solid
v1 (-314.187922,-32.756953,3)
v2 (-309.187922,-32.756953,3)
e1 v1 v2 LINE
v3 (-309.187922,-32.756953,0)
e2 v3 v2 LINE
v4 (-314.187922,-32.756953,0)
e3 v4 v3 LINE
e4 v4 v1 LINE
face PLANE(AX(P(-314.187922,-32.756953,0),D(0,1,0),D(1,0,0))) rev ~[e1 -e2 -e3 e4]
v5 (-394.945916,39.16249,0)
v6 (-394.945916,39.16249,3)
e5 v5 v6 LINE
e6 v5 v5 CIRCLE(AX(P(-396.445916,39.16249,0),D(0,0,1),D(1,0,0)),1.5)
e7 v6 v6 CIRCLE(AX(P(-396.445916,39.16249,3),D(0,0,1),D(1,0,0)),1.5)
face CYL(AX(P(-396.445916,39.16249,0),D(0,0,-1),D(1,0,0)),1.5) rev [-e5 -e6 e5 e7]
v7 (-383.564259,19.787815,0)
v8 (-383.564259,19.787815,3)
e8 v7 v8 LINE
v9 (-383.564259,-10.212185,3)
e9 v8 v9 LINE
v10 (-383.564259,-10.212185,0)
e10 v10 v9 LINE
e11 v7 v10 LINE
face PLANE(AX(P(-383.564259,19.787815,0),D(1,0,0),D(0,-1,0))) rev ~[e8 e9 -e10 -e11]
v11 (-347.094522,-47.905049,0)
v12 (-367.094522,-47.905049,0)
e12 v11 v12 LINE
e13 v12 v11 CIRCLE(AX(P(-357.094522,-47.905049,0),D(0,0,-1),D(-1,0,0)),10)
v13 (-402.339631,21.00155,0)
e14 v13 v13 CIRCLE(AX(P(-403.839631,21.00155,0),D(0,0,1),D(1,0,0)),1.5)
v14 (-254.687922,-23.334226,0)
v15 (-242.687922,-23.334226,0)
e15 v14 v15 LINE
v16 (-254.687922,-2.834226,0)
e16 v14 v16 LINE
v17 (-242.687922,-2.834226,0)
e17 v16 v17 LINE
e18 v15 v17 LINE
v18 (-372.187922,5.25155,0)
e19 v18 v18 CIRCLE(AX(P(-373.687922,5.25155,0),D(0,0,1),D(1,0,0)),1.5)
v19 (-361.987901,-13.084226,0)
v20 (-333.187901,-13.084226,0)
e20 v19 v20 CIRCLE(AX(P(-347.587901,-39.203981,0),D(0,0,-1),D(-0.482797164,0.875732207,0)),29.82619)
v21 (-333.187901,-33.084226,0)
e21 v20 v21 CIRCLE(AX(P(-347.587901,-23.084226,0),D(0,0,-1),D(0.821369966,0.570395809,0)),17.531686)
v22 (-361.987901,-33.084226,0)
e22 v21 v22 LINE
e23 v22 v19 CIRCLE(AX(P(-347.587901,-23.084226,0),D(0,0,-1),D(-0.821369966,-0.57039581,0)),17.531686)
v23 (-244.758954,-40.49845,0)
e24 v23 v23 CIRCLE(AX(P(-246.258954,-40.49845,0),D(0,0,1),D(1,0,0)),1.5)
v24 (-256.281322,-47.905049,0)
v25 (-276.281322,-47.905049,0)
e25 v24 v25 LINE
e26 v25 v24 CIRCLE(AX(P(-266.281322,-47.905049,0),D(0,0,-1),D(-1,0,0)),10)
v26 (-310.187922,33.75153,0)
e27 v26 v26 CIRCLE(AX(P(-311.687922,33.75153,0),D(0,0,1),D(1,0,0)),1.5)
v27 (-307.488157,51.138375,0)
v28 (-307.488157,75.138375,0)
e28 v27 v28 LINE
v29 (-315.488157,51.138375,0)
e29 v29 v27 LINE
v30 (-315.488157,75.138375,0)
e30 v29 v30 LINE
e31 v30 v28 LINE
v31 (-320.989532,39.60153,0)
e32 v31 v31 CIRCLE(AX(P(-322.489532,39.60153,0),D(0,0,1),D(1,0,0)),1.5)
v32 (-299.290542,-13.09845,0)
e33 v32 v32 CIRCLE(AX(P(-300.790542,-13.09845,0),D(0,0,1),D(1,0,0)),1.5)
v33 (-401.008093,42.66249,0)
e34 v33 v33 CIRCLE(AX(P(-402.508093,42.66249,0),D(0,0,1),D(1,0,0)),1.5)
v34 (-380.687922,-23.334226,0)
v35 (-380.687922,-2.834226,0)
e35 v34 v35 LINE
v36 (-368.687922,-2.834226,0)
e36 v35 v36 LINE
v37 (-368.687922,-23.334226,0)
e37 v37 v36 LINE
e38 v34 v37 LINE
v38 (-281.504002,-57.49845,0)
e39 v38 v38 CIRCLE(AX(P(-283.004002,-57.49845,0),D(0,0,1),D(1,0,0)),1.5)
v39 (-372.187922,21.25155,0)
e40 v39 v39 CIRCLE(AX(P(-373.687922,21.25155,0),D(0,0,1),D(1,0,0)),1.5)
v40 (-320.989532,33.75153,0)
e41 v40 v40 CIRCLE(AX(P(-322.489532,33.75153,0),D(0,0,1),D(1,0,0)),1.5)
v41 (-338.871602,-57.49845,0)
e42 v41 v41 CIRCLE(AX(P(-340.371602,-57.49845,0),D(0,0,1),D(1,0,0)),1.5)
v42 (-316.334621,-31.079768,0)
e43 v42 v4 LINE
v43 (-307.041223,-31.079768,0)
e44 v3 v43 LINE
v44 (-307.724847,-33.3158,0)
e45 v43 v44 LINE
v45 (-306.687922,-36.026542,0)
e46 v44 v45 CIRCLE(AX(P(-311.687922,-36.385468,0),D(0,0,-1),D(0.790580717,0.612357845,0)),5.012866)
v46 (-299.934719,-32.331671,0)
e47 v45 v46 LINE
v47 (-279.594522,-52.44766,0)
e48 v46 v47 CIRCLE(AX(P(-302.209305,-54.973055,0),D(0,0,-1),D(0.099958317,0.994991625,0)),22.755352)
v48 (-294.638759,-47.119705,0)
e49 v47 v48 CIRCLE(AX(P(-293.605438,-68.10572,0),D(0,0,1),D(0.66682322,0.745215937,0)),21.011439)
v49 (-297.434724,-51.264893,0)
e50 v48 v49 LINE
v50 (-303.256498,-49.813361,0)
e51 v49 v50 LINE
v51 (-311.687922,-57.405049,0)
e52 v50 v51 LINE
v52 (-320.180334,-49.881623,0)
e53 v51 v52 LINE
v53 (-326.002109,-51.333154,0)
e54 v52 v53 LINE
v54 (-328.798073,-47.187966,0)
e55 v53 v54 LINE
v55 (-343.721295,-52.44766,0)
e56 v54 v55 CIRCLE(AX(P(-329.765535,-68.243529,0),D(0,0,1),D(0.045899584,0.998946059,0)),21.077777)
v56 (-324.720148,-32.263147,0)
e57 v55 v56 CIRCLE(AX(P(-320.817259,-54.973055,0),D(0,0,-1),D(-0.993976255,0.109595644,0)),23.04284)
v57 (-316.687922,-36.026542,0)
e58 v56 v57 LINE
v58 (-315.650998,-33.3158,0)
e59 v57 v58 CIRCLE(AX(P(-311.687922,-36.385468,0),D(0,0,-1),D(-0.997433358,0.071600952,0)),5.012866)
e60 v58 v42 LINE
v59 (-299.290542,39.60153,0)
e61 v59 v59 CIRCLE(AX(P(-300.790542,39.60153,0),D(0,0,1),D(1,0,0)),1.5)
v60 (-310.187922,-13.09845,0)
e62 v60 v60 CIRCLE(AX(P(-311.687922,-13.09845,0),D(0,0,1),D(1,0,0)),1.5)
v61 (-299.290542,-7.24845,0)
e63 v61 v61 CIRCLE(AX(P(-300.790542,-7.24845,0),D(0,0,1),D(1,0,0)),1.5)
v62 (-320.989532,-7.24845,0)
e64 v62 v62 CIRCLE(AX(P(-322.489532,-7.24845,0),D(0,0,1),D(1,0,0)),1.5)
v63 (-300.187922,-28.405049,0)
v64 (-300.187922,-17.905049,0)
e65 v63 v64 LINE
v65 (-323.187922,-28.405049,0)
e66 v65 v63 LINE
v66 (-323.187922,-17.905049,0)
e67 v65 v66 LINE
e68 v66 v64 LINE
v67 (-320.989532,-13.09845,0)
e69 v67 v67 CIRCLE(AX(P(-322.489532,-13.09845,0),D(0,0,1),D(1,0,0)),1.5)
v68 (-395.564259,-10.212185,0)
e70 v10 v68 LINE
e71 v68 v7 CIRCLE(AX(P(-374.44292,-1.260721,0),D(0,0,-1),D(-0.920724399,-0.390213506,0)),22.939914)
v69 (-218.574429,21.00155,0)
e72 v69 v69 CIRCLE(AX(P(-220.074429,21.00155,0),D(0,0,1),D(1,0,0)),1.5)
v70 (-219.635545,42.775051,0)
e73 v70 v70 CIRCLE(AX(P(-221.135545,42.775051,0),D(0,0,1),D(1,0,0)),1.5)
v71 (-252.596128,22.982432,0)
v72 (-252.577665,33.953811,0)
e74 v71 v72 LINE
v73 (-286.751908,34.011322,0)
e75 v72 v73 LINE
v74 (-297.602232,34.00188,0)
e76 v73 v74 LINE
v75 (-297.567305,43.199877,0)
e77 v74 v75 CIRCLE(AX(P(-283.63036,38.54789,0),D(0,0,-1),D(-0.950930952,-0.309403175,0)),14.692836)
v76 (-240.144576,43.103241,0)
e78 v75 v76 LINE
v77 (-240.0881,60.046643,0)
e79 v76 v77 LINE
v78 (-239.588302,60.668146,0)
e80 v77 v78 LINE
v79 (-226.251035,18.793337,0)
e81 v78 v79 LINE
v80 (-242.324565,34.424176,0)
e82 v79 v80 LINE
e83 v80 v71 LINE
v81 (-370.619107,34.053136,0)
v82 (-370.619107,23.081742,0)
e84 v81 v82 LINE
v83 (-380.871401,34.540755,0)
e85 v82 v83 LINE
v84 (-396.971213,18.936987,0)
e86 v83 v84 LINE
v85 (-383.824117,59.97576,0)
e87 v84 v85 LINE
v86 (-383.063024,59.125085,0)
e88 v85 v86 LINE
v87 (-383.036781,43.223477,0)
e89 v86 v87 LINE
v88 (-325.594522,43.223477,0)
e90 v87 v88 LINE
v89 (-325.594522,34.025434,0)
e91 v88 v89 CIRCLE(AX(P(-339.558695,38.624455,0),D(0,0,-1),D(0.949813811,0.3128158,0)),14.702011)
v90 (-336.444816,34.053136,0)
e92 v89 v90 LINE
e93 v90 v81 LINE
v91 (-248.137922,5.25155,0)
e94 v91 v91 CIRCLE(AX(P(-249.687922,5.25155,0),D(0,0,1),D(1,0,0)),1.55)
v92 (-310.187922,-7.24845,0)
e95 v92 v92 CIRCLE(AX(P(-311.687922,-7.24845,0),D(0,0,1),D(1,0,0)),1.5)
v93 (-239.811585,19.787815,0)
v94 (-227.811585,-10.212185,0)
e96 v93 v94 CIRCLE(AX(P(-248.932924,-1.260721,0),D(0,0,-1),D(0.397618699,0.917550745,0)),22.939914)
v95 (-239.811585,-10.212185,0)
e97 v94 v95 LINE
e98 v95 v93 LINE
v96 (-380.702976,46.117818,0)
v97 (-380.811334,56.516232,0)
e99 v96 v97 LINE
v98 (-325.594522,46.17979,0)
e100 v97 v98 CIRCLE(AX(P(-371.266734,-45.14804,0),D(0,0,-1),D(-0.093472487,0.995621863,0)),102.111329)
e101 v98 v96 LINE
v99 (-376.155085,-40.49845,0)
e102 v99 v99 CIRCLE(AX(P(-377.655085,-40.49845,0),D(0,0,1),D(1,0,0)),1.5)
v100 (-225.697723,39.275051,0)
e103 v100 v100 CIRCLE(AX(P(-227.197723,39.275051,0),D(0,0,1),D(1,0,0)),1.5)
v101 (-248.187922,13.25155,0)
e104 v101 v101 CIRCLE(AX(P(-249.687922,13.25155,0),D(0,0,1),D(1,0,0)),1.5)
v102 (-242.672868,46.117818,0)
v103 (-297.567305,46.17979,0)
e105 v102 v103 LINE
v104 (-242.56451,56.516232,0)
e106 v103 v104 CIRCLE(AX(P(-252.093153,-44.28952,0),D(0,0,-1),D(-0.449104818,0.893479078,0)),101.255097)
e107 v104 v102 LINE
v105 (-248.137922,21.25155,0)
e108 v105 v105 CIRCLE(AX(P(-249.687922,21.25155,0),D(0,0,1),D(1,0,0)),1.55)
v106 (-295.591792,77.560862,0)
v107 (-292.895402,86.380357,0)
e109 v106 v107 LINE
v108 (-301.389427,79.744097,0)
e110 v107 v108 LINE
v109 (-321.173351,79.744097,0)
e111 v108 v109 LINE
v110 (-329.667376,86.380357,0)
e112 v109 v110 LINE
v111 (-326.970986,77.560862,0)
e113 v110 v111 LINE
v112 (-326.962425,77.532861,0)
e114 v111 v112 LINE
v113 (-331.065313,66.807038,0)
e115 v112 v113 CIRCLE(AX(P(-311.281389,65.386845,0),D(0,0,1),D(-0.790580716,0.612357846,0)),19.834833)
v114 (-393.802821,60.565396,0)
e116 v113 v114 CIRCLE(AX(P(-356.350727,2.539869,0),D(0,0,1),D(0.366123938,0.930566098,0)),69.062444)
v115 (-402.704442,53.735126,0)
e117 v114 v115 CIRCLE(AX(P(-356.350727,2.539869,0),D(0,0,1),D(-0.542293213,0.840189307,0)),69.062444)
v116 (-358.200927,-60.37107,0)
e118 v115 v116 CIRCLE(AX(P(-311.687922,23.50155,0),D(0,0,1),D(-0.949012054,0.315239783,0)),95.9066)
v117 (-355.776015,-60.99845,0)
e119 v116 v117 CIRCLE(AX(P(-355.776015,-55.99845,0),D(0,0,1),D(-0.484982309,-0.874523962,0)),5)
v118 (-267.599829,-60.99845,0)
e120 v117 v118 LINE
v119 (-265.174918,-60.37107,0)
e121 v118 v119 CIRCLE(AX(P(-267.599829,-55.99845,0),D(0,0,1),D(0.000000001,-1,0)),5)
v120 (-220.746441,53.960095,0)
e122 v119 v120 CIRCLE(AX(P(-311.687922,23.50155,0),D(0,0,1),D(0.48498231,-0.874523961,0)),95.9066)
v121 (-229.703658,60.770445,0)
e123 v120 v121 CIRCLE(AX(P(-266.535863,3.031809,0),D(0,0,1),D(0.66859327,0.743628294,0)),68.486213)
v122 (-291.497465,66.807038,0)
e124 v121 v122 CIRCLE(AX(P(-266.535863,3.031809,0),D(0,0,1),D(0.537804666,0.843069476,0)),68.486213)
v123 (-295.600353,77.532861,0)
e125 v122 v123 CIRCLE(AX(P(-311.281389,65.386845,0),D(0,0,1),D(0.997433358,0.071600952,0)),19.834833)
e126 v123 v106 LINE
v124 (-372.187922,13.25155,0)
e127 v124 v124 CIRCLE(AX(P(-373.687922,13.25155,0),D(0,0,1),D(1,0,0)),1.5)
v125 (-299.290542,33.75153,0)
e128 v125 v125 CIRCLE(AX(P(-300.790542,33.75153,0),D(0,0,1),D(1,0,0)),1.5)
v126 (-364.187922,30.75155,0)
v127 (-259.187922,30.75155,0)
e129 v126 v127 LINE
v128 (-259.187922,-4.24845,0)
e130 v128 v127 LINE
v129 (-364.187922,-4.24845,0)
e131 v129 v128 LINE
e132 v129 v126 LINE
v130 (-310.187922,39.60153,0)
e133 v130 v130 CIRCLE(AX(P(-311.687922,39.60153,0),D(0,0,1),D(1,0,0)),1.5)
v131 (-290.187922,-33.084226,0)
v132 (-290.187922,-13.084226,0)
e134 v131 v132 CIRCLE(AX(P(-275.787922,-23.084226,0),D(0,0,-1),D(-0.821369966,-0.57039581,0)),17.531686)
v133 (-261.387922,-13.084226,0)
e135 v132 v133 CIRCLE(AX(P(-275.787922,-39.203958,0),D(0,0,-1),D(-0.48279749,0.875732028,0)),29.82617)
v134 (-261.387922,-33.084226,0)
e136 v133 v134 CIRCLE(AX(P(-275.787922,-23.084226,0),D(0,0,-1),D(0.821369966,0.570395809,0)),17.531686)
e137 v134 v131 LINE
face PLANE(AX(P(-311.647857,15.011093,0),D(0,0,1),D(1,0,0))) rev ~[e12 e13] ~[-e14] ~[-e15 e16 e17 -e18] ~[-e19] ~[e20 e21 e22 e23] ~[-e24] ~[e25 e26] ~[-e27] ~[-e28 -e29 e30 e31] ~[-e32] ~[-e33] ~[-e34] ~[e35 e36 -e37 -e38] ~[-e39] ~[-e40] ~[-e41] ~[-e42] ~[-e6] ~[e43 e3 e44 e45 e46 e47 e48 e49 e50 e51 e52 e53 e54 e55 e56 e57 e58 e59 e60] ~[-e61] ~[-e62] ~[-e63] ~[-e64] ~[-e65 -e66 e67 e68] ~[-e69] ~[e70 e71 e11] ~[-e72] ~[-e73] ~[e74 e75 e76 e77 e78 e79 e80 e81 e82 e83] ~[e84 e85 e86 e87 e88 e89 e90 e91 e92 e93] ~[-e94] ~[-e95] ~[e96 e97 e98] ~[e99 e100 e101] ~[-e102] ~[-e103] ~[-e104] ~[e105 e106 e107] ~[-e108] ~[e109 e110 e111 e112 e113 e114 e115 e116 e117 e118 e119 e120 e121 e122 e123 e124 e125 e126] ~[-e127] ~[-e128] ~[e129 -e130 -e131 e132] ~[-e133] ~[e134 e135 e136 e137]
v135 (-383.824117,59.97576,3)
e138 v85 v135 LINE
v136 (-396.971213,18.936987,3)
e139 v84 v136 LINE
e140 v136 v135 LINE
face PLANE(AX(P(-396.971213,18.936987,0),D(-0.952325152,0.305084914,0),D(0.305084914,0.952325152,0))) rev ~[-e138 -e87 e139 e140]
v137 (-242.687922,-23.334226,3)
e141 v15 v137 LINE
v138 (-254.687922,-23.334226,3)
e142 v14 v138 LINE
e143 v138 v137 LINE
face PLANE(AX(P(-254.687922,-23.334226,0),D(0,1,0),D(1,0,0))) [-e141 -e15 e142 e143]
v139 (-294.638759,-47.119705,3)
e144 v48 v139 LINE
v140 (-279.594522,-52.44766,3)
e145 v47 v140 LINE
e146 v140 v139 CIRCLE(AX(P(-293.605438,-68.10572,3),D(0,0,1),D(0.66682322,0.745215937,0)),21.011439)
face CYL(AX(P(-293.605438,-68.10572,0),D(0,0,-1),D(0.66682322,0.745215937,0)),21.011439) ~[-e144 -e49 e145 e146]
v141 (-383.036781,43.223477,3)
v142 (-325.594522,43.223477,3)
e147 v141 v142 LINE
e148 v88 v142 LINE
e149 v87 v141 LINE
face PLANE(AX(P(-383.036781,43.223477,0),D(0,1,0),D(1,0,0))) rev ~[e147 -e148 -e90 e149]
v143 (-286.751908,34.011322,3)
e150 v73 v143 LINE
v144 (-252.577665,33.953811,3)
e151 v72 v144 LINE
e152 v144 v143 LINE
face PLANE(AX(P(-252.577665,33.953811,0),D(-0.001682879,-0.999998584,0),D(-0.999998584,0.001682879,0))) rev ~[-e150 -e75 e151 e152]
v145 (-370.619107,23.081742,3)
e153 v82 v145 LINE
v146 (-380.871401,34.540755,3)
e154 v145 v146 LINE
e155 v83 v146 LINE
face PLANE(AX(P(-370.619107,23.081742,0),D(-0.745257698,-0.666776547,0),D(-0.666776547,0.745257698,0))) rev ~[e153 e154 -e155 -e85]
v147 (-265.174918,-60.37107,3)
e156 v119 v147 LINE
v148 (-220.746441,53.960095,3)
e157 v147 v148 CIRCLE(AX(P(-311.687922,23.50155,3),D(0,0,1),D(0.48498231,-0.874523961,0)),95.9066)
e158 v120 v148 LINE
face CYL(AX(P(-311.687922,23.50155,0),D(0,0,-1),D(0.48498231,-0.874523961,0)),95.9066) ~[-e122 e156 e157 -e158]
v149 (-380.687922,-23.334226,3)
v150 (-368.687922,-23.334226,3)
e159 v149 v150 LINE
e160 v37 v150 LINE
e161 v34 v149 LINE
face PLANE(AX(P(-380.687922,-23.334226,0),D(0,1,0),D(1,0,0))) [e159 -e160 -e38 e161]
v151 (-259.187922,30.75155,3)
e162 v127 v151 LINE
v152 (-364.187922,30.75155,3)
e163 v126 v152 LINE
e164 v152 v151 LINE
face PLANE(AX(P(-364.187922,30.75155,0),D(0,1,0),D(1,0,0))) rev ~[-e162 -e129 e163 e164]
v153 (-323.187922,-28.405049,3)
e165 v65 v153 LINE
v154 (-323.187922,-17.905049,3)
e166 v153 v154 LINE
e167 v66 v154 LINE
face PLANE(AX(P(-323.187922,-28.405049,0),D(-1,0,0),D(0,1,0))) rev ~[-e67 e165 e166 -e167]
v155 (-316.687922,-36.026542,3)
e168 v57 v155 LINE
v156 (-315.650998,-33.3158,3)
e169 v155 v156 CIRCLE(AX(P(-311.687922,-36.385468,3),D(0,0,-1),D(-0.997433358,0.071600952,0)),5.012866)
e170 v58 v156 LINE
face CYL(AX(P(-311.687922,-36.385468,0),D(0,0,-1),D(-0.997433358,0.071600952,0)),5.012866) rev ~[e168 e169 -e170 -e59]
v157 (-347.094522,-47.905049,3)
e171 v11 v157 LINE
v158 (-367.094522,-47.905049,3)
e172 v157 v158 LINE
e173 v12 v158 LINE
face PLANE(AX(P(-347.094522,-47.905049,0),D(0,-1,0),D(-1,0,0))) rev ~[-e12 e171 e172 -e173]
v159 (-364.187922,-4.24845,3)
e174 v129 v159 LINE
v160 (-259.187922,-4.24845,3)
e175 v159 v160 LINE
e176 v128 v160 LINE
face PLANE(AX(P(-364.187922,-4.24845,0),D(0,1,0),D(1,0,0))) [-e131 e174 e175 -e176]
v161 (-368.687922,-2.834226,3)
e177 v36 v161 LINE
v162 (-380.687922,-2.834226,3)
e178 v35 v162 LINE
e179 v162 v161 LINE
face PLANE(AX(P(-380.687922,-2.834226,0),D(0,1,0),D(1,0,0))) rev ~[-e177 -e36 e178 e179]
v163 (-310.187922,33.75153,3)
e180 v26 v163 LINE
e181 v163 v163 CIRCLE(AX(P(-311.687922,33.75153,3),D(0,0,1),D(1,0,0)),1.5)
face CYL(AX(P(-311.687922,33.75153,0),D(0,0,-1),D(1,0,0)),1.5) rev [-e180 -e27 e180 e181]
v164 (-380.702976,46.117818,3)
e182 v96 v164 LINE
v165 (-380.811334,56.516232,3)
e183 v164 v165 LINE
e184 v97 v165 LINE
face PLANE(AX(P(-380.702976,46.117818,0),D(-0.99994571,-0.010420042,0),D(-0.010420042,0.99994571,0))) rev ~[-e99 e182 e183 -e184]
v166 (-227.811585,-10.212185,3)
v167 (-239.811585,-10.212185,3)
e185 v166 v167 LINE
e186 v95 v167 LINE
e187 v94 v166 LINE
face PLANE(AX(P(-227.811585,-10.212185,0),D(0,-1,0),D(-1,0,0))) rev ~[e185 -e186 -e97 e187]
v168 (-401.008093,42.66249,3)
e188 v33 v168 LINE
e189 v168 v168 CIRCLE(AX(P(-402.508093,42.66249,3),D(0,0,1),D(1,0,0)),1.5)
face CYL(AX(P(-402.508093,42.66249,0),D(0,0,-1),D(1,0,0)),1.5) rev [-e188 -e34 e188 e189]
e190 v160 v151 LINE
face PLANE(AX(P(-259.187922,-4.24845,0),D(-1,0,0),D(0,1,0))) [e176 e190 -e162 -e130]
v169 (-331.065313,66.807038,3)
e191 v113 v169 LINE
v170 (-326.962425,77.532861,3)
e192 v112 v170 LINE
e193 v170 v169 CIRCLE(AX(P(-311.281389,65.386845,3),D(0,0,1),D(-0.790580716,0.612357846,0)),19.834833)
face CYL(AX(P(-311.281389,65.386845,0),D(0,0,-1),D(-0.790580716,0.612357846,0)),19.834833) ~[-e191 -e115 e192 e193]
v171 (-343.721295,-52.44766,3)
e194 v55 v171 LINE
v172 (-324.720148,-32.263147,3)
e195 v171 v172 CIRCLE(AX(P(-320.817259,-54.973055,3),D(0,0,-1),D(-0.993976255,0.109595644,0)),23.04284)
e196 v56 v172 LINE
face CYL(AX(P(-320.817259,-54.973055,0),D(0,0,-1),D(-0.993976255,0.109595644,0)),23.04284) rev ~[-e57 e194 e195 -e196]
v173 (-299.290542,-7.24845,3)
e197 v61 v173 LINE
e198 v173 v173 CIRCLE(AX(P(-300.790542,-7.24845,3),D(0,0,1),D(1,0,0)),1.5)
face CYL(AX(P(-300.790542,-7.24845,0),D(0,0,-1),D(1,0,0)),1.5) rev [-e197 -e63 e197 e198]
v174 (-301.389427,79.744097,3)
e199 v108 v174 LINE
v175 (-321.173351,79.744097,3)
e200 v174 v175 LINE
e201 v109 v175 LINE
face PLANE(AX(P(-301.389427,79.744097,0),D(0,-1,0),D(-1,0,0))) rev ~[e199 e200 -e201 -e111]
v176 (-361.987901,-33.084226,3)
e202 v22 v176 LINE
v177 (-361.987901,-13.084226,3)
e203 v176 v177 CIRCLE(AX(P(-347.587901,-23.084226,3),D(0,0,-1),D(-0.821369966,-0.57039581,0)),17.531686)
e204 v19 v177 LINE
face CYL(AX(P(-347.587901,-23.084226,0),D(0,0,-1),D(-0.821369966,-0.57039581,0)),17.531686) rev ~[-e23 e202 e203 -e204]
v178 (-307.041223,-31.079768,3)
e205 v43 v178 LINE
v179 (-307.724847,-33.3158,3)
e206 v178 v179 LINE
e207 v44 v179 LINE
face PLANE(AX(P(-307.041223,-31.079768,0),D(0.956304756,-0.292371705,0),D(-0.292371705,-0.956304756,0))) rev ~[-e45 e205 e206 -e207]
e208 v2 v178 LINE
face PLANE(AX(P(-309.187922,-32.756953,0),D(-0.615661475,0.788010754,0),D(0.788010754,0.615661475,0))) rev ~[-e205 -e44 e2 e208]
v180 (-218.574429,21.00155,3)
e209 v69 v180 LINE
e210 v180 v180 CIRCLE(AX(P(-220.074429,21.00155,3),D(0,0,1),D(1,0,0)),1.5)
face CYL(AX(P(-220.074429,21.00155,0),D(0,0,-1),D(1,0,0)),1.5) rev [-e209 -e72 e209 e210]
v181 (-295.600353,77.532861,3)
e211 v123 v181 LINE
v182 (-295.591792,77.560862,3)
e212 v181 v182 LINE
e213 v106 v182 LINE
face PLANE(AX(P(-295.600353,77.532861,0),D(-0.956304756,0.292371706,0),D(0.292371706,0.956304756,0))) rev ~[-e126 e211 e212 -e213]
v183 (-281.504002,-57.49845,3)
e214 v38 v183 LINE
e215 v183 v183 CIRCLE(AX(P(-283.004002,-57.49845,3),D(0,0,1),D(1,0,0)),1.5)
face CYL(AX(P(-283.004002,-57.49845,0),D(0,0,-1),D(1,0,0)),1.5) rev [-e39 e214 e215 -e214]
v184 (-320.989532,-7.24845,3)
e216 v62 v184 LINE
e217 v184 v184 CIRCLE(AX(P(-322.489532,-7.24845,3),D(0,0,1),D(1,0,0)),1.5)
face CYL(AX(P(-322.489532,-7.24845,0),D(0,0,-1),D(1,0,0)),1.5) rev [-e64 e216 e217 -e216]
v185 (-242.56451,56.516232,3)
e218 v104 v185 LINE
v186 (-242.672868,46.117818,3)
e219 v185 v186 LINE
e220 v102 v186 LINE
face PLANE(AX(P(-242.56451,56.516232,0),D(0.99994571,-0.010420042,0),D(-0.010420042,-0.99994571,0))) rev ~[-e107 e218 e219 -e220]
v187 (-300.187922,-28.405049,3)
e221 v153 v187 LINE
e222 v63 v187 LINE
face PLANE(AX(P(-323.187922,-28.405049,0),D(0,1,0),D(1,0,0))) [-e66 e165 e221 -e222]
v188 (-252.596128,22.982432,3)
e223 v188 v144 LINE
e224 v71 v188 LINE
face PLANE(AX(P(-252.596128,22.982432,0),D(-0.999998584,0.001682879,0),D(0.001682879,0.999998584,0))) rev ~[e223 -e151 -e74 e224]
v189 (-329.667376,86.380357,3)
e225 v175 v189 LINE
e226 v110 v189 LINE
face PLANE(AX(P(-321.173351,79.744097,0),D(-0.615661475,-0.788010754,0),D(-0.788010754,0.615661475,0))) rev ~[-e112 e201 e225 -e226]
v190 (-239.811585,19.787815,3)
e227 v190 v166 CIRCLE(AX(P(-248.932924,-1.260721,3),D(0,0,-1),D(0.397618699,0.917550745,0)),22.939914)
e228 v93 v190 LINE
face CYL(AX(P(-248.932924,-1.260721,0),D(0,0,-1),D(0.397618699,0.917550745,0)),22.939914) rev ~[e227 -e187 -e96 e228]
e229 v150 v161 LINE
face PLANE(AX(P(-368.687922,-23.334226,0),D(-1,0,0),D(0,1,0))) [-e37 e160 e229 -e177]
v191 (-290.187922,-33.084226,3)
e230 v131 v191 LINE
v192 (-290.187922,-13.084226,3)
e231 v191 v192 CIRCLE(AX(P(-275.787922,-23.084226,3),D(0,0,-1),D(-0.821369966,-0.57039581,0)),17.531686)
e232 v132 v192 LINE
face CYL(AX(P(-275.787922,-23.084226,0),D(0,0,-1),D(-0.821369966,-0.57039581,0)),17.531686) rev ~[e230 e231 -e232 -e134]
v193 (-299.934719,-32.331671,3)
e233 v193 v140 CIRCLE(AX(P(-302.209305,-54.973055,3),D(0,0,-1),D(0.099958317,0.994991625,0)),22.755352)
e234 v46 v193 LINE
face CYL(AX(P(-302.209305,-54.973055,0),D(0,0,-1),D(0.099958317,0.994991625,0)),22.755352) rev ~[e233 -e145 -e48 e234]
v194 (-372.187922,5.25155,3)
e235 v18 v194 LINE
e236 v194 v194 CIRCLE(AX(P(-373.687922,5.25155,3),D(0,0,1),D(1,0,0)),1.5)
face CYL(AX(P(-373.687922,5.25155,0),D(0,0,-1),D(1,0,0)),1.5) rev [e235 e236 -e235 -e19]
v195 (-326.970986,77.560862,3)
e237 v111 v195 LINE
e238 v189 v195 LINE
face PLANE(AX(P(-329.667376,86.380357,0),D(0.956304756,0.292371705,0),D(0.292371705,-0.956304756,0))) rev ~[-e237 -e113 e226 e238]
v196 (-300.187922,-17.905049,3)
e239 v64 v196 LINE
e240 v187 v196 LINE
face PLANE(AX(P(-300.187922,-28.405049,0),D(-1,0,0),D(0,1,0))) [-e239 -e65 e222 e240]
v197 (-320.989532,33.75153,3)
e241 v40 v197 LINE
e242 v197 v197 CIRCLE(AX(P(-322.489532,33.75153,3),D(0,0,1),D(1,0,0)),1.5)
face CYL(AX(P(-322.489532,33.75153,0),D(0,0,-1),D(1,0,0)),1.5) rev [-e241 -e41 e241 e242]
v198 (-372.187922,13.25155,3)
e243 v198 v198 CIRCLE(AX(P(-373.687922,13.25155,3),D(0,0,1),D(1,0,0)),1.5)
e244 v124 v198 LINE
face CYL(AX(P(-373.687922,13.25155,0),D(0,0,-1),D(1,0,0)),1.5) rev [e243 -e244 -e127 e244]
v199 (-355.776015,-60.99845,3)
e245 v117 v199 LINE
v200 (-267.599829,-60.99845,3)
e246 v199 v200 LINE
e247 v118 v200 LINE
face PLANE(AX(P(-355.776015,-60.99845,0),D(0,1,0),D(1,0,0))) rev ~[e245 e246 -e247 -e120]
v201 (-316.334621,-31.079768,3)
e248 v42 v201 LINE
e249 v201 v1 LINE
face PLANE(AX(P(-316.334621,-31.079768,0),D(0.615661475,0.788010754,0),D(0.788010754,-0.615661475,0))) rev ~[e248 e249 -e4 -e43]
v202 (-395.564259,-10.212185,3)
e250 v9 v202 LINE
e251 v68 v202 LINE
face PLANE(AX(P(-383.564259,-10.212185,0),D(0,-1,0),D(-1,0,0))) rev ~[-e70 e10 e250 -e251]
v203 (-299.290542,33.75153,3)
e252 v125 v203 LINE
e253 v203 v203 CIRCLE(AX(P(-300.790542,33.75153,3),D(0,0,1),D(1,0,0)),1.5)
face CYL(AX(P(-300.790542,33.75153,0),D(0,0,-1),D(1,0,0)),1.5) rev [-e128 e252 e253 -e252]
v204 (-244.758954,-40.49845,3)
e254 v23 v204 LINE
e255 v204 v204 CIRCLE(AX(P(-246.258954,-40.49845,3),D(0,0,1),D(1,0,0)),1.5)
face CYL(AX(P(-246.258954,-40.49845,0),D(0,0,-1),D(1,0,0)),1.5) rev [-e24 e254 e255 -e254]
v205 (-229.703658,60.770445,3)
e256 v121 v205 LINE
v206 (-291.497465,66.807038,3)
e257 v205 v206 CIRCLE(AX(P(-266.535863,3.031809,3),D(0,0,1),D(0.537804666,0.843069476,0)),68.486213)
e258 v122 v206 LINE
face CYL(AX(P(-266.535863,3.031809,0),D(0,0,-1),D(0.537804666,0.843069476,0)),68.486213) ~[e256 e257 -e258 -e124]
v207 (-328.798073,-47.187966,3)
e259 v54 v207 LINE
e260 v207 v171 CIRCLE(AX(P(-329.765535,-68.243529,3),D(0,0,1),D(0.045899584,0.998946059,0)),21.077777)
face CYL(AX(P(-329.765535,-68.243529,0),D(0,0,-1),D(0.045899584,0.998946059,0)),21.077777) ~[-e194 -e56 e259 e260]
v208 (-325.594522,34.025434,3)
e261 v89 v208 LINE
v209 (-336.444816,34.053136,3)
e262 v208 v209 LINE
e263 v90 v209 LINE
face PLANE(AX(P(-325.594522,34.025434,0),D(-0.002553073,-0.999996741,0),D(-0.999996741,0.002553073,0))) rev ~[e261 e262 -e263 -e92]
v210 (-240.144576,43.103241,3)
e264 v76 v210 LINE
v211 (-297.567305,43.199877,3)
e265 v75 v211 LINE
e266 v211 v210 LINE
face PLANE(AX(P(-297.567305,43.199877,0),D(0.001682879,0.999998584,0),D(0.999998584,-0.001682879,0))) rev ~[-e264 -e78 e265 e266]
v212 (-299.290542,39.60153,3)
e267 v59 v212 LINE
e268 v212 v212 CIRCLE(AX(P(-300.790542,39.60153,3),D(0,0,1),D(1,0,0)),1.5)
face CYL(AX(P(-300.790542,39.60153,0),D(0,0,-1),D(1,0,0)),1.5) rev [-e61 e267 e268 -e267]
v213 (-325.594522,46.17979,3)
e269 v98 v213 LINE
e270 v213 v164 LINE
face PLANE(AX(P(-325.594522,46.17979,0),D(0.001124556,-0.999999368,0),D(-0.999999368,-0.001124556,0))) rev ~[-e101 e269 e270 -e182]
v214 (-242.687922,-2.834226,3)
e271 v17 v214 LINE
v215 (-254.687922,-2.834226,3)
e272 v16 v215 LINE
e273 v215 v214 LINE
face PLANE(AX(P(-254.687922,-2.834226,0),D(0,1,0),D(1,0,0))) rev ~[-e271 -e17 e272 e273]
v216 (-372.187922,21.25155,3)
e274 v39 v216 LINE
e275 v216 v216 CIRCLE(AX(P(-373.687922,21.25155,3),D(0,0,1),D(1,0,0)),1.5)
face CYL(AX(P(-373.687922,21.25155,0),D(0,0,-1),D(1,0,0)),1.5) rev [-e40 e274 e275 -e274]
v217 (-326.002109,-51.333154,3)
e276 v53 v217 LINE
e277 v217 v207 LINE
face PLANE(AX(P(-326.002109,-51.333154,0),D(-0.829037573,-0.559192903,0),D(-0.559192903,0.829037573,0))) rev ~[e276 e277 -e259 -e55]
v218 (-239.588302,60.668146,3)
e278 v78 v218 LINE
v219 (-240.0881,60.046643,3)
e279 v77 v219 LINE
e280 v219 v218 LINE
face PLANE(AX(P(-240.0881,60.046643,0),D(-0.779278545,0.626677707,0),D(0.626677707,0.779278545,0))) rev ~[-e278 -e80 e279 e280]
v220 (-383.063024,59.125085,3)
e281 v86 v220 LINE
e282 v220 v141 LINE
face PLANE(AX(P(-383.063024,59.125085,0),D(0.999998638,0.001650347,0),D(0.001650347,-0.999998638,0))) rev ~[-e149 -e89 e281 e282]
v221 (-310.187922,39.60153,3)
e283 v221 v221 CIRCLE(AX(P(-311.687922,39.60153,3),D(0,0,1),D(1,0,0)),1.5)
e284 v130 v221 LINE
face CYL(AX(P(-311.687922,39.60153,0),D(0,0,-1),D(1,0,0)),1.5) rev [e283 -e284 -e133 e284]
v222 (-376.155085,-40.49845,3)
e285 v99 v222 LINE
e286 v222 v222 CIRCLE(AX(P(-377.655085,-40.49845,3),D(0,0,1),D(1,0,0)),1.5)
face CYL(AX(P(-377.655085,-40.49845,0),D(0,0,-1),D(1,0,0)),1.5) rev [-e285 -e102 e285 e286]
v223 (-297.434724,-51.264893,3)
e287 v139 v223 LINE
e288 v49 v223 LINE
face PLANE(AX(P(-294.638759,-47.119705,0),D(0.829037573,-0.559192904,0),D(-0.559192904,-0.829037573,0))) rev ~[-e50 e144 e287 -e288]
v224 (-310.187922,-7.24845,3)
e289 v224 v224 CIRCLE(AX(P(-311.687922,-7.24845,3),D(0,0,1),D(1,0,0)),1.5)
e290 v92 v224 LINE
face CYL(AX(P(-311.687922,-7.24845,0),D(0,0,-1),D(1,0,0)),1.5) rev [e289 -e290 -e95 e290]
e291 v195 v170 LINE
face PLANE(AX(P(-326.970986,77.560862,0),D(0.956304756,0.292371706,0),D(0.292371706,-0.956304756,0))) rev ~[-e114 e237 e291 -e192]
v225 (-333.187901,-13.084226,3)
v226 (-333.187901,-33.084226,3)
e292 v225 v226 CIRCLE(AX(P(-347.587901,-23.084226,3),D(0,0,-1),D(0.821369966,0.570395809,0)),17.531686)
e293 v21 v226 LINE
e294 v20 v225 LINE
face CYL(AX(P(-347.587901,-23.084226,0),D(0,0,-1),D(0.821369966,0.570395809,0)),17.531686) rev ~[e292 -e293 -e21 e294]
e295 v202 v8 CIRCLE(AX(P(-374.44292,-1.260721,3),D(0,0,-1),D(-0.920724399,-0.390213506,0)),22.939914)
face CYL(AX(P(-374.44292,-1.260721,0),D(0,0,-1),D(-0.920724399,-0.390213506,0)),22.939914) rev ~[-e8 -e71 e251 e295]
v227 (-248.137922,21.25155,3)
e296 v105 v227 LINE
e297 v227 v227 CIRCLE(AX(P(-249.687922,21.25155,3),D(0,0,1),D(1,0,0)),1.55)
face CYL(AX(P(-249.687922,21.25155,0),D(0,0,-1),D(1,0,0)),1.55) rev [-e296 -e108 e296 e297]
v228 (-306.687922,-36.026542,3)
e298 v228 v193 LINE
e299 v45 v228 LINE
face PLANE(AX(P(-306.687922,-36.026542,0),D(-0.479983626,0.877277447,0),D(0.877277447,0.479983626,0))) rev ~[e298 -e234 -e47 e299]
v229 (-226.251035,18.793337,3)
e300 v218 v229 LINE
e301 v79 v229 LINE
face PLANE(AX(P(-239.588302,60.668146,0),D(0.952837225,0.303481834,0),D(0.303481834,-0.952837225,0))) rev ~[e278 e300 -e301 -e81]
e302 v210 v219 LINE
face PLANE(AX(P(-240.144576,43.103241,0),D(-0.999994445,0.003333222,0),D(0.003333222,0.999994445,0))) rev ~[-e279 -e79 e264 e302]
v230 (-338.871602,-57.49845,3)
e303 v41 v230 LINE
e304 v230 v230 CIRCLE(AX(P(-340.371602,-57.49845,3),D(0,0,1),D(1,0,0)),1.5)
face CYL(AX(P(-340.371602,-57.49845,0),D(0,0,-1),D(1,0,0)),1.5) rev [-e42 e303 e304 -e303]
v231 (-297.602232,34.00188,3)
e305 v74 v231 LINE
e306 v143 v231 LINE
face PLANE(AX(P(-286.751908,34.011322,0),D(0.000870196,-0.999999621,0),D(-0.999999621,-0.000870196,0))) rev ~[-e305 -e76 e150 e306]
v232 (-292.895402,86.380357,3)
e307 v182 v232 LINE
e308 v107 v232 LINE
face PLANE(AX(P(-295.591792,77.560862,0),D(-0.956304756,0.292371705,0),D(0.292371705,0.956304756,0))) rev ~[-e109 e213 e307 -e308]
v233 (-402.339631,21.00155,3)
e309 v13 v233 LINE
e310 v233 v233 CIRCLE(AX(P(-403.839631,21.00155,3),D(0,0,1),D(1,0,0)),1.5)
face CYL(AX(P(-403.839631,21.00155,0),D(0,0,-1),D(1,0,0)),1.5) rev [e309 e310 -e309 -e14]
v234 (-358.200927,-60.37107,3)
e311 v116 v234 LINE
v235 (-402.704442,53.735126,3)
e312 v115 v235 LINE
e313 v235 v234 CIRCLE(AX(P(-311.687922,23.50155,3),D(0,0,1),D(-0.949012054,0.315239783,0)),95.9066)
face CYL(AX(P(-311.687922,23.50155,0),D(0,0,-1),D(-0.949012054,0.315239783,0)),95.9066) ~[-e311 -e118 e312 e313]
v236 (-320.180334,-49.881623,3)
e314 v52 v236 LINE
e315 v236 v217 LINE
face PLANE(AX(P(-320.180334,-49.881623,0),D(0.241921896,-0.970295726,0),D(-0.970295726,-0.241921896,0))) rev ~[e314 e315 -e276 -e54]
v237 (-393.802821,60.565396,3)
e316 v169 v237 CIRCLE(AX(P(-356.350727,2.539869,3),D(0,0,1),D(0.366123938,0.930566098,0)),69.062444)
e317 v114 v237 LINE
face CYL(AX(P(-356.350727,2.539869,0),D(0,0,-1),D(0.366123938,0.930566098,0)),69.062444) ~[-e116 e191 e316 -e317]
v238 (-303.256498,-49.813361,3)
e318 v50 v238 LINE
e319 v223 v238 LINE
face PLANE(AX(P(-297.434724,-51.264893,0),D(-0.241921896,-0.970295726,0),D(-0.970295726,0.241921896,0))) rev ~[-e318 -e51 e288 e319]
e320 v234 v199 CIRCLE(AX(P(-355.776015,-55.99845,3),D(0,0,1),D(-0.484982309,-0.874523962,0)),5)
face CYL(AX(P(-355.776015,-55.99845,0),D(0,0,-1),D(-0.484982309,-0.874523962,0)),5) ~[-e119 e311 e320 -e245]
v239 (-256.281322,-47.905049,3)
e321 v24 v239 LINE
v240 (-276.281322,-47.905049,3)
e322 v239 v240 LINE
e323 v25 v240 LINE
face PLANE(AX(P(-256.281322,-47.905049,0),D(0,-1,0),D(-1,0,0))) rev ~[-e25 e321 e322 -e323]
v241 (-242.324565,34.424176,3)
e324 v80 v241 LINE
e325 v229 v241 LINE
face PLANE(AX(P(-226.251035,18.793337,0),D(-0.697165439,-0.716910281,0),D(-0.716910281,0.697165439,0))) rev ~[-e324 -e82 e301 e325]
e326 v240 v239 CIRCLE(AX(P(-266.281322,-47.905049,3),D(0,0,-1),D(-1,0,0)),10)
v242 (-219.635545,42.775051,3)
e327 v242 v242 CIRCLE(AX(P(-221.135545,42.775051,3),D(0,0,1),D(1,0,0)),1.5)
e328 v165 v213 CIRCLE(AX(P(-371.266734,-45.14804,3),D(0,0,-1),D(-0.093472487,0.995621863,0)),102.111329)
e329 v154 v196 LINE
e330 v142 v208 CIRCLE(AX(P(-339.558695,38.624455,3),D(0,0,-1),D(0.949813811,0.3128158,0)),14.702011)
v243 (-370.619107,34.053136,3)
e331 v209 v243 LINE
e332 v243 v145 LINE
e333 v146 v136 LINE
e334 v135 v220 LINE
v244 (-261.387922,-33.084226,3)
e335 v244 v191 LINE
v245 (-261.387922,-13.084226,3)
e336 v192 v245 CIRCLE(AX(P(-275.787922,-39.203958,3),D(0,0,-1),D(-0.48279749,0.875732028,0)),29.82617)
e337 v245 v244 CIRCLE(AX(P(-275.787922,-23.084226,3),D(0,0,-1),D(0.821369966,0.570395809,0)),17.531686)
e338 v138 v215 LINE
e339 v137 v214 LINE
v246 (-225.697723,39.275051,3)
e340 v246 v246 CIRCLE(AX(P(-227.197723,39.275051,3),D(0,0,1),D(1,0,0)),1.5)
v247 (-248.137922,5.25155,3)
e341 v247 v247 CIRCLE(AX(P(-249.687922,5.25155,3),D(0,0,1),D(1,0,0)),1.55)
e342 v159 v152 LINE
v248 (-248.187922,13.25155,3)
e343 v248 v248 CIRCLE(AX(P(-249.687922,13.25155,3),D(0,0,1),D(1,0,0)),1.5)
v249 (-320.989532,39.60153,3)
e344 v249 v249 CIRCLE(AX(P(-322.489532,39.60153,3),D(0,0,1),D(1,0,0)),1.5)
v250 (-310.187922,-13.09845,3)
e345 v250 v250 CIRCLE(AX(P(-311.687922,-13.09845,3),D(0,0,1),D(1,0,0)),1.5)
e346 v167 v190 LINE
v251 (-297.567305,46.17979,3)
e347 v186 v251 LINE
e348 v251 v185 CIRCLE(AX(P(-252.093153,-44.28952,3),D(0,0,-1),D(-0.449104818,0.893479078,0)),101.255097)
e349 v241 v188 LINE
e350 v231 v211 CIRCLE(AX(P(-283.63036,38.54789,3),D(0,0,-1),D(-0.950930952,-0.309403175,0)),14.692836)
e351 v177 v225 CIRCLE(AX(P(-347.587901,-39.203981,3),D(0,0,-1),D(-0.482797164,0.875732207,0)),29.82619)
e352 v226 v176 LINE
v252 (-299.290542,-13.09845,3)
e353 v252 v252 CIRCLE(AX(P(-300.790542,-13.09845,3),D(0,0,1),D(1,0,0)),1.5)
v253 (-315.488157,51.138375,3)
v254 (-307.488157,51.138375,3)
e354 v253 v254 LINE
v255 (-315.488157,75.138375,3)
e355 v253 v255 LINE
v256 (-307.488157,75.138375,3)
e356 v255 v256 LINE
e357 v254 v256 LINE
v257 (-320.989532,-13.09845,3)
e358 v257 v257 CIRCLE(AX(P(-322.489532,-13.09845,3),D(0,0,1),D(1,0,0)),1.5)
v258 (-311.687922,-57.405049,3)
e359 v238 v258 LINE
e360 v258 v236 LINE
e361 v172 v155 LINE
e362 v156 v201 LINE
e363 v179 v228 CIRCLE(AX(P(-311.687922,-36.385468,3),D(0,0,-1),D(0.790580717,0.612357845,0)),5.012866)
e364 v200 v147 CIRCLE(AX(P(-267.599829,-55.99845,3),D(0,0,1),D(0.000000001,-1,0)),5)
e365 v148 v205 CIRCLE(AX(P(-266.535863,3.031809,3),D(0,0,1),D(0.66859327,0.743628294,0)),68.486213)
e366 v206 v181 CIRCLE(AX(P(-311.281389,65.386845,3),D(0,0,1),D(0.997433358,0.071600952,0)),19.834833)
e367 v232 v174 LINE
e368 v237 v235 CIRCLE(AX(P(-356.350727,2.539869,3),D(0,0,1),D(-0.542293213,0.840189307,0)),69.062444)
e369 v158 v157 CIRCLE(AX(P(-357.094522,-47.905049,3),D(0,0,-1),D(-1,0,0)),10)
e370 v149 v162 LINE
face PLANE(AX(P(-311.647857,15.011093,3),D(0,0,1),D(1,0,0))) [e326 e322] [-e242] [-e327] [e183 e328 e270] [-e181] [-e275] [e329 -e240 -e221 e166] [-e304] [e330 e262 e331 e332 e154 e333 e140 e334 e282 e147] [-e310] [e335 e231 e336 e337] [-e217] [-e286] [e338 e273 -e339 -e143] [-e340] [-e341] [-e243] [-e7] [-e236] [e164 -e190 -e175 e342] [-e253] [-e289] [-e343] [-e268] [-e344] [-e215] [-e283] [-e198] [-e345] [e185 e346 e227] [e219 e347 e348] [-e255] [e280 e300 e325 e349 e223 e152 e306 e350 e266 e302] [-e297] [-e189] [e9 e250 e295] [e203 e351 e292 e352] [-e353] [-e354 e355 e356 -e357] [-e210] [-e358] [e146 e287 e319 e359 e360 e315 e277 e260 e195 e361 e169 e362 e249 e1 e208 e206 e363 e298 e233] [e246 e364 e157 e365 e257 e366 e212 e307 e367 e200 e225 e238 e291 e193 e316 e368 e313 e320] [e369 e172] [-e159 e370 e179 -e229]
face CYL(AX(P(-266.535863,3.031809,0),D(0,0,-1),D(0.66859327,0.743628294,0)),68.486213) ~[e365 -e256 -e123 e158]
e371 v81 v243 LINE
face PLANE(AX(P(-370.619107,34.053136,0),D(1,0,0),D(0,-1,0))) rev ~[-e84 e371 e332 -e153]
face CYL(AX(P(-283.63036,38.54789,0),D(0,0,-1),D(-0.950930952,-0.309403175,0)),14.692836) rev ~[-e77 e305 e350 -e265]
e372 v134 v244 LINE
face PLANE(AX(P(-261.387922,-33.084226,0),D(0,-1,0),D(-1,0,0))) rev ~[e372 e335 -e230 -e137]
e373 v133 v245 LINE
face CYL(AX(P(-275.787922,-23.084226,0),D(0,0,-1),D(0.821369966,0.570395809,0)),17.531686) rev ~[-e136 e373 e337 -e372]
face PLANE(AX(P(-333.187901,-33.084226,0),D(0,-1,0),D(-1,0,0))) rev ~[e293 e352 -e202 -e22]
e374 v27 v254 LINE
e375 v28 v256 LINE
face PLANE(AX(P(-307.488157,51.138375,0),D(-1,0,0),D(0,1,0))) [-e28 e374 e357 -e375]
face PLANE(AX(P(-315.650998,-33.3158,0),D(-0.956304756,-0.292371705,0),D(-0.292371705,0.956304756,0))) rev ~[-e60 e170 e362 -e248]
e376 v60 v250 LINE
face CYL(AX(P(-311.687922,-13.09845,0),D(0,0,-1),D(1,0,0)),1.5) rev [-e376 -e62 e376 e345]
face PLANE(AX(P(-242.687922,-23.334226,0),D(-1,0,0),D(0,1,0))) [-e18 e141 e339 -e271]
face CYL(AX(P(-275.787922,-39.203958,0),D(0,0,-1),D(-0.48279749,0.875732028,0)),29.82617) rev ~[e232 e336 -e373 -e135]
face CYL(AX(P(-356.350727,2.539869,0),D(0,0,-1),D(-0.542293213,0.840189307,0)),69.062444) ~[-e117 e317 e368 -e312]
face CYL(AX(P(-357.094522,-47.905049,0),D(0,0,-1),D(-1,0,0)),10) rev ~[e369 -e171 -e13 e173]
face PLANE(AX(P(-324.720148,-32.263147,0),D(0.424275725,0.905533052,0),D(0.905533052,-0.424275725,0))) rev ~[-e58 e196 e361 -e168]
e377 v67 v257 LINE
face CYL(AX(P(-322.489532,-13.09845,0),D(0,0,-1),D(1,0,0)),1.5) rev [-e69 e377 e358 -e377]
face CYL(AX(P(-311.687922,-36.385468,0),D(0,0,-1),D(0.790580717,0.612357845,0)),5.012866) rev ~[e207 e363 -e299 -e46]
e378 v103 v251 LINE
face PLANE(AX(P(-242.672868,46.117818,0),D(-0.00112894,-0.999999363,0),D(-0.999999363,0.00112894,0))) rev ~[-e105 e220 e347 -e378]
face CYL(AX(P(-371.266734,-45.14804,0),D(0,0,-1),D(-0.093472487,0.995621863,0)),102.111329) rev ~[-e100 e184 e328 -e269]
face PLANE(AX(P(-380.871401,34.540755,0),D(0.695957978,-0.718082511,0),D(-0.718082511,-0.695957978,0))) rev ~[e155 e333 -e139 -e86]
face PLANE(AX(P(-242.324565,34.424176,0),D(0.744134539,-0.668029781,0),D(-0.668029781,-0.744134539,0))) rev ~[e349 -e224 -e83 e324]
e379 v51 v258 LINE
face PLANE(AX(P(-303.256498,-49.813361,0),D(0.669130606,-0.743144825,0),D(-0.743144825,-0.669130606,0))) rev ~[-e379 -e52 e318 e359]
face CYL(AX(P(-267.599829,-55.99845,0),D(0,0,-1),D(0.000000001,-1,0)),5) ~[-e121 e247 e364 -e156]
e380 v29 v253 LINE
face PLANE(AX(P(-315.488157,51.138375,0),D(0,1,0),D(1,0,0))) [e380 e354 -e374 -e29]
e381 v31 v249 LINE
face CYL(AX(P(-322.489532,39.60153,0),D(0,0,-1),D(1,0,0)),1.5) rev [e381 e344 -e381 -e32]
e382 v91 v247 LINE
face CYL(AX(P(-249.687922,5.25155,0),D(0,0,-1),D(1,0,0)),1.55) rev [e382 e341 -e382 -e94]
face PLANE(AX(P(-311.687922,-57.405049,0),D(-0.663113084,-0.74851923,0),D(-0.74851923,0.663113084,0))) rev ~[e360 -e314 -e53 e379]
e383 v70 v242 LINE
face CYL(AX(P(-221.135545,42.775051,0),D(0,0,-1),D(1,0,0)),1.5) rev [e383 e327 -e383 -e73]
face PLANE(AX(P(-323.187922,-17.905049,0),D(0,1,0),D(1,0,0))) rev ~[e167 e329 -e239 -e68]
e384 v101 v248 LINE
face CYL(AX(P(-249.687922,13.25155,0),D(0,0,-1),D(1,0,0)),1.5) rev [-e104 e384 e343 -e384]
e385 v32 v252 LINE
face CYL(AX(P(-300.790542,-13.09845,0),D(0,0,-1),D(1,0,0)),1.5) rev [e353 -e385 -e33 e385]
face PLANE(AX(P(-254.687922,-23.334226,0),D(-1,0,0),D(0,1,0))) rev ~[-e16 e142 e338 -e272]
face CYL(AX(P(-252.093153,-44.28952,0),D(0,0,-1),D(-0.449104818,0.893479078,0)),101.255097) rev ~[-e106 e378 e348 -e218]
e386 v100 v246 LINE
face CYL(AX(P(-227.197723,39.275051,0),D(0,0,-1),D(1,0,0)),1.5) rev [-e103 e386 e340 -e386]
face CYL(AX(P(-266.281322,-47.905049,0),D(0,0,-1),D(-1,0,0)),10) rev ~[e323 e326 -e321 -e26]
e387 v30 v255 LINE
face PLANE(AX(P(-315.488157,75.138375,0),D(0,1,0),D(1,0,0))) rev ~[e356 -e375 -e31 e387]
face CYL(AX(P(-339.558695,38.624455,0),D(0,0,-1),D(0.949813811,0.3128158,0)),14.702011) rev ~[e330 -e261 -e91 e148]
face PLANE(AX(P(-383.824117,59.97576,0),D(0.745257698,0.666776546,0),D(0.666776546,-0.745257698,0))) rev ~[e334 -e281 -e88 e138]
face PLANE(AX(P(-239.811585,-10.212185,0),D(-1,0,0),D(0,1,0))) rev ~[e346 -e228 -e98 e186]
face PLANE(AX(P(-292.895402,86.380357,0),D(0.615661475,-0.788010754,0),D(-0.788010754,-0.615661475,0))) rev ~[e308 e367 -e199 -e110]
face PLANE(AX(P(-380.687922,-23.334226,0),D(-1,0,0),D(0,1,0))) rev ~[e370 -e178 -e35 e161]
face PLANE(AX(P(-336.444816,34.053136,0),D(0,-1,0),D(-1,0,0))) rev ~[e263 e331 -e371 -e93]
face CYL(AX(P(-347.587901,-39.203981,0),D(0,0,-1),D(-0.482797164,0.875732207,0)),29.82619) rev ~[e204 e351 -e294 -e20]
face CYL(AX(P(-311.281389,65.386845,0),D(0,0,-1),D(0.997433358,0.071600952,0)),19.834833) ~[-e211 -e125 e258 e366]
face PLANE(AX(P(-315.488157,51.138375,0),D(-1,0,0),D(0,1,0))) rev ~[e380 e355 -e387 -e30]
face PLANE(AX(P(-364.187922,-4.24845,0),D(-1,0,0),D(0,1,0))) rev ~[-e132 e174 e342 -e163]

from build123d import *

# Parameters (mm, degrees)
MODEL_R                 = 1.5
MODEL_W                 = 12
MODEL_H                 = 20.5
MODEL_W_2               = 23
MODEL_H_2               = 10.5
MODEL_R_2               = 1.55
MODEL_W_3               = 105
MODEL_H_3               = 35
MODEL_W_4               = 8
MODEL_H_4               = 24
SALIENTE_EXTRUIR4_DEPTH = 3


with BuildPart() as part:
    # Model → Saliente-Extruir4 (new body)
    with BuildSketch(Plane.XY):
        with BuildLine():
            Line((-355.776015138, -60.998450132), (-267.599829389, -60.998450132))
            ThreePointArc((-267.599829389, -60.998450132), (-266.347451458, -60.839064712), (-265.17491784, -60.371069939))
            ThreePointArc((-265.17491784, -60.371069939), (-222.293639907, -11.236587904), (-220.746441381, 53.960095284))
            ThreePointArc((-220.746441381, 53.960095284), (-225.084945906, 57.549539585), (-229.703657645, 60.770445324))
            ThreePointArc((-229.703657645, 60.770445324), (-259.877190608, 71.193554512), (-291.497465301, 66.807038251))
            ThreePointArc((-291.497465301, 66.807038251), (-292.755686274, 72.473376479), (-295.600352839, 77.532860749))
            Line((-295.600352839, 77.532860749), (-295.591792135, 77.56086155))
            Line((-295.591792135, 77.56086155), (-292.895401724, 86.380357187))
            Line((-292.895401724, 86.380357187), (-301.389427163, 79.7440972))
            Line((-301.389427163, 79.7440972), (-311.281389026, 79.7440972))
            Line((-311.281389026, 79.7440972), (-321.173350888, 79.7440972))
            Line((-321.173350888, 79.7440972), (-329.667376328, 86.380357187))
            Line((-329.667376328, 86.380357187), (-326.970985917, 77.56086155))
            Line((-326.970985917, 77.56086155), (-326.962425213, 77.532860749))
            ThreePointArc((-326.962425213, 77.532860749), (-329.807091778, 72.473376479), (-331.06531275, 66.807038251))
            ThreePointArc((-331.06531275, 66.807038251), (-363.187871913, 71.263043057), (-393.802821484, 60.565396182))
            ThreePointArc((-393.802821484, 60.565396182), (-398.392570042, 57.331333816), (-402.704441803, 53.735125656))
            ThreePointArc((-402.704441803, 53.735125656), (-401.039186713, -11.347086765), (-358.200926687, -60.371069939))
            ThreePointArc((-358.200926687, -60.371069939), (-357.028393069, -60.839064712), (-355.776015138, -60.998450132))
        make_face()
        with Locations((-377.655085345, -40.498450132)):
            Circle(MODEL_R, mode=Mode.SUBTRACT)
        with Locations((-340.371601562, -57.498450132)):
            Circle(MODEL_R, mode=Mode.SUBTRACT)
        with BuildLine():
            Line((-347.094522431, -47.905049404), (-367.094522431, -47.905049404))
            ThreePointArc((-367.094522431, -47.905049404), (-357.094522431, -37.905049404), (-347.094522431, -47.905049404))
        make_face(mode=Mode.SUBTRACT)
        with Locations((-374.687922263, -13.08422583)):
            Rectangle(MODEL_W, MODEL_H, mode=Mode.SUBTRACT)
        with BuildLine():
            Line((-383.564259156, 19.787814732), (-383.564259156, -10.212185268))
            Line((-383.564259156, -10.212185268), (-395.564259156, -10.212185268))
            ThreePointArc((-395.564259156, -10.212185268), (-395.74209606, 7.258949494), (-383.564259156, 19.787814732))
        make_face(mode=Mode.SUBTRACT)
        with Locations((-373.687922263, 5.251549869)):
            Circle(MODEL_R, mode=Mode.SUBTRACT)
        with BuildLine():
            ThreePointArc((-333.187901103, -13.08422583), (-330.056215503, -23.08422583), (-333.187901103, -33.08422583))
            Line((-333.187901103, -33.08422583), (-361.987901103, -33.08422583))
            ThreePointArc((-361.987901103, -33.08422583), (-365.119586704, -23.08422583), (-361.987901103, -13.08422583))
            ThreePointArc((-361.987901103, -13.08422583), (-347.587901103, -9.377791016), (-333.187901103, -13.08422583))
        make_face(mode=Mode.SUBTRACT)
        with Locations((-322.48953205, -13.098450131)):
            Circle(MODEL_R, mode=Mode.SUBTRACT)
        with Locations((-322.48953205, -7.248450131)):
            Circle(MODEL_R, mode=Mode.SUBTRACT)
        with BuildLine():
            ThreePointArc((-307.724846888, -33.315800094), (-307.00591302, -34.594485844), (-306.687922263, -36.02654207))
            Line((-306.687922263, -36.02654207), (-299.934718732, -32.331670932))
            ThreePointArc((-299.934718732, -32.331670932), (-286.208260503, -38.793667419), (-279.594522431, -52.447660346))
            ThreePointArc((-279.594522431, -52.447660346), (-286.59107666, -48.299677368), (-294.638759456, -47.119704707))
            Line((-294.638759456, -47.119704707), (-297.434723974, -51.26489257))
            Line((-297.434723974, -51.26489257), (-303.256498331, -49.813361196))
            Line((-303.256498331, -49.813361196), (-311.687922263, -57.405049404))
            Line((-311.687922263, -57.405049404), (-320.180334417, -49.881622626))
            Line((-320.180334417, -49.881622626), (-326.002108775, -51.333154))
            Line((-326.002108775, -51.333154), (-328.798073292, -47.187966137))
            ThreePointArc((-328.798073292, -47.187966137), (-336.771965329, -48.364327922), (-343.72129462, -52.447660346))
            ThreePointArc((-343.72129462, -52.447660346), (-337.595412912, -39.178561893), (-324.720148301, -32.263147106))
            Line((-324.720148301, -32.263147106), (-316.687922263, -36.02654207))
            ThreePointArc((-316.687922263, -36.02654207), (-316.369931507, -34.594485844), (-315.650997638, -33.315800094))
            Line((-315.650997638, -33.315800094), (-316.334621158, -31.079768314))
            Line((-316.334621158, -31.079768314), (-314.187922263, -32.756953305))
            Line((-314.187922263, -32.756953305), (-309.187922263, -32.756953305))
            Line((-309.187922263, -32.756953305), (-307.041223368, -31.079768314))
            Line((-307.041223368, -31.079768314), (-307.724846888, -33.315800094))
        make_face(mode=Mode.SUBTRACT)
        with Locations((-283.004001562, -57.498450132)):
            Circle(MODEL_R, mode=Mode.SUBTRACT)
        with BuildLine():
            ThreePointArc((-276.281322096, -47.905049404), (-266.281322096, -37.905049404), (-256.281322096, -47.905049404))
            Line((-256.281322096, -47.905049404), (-276.281322096, -47.905049404))
        make_face(mode=Mode.SUBTRACT)
        with Locations((-246.258954343, -40.498450132)):
            Circle(MODEL_R, mode=Mode.SUBTRACT)
        with Locations((-311.687922263, -23.155049404)):
            Rectangle(MODEL_W_2, MODEL_H_2, mode=Mode.SUBTRACT)
        with Locations((-311.687922263, -13.098450131)):
            Circle(MODEL_R, mode=Mode.SUBTRACT)
        with Locations((-300.790542177, -13.098450131)):
            Circle(MODEL_R, mode=Mode.SUBTRACT)
        with Locations((-311.687922263, -7.248450131)):
            Circle(MODEL_R, mode=Mode.SUBTRACT)
        with Locations((-300.790542177, -7.248450131)):
            Circle(MODEL_R, mode=Mode.SUBTRACT)
        with BuildLine():
            ThreePointArc((-261.387922263, -13.08422583), (-258.256236663, -23.08422583), (-261.387922263, -33.08422583))
            Line((-261.387922263, -33.08422583), (-290.187922263, -33.08422583))
            ThreePointArc((-290.187922263, -33.08422583), (-293.319607864, -23.08422583), (-290.187922263, -13.08422583))
            ThreePointArc((-290.187922263, -13.08422583), (-275.787922263, -9.377788158), (-261.387922263, -13.08422583))
        make_face(mode=Mode.SUBTRACT)
        with Locations((-248.687922263, -13.08422583)):
            Rectangle(MODEL_W, MODEL_H, mode=Mode.SUBTRACT)
        with Locations((-249.687922263, 5.251549869)):
            Circle(MODEL_R_2, mode=Mode.SUBTRACT)
        with BuildLine():
            Line((-227.811585371, -10.212185268), (-239.811585371, -10.212185268))
            Line((-239.811585371, -10.212185268), (-239.811585371, 19.787814732))
            ThreePointArc((-239.811585371, 19.787814732), (-227.633748467, 7.258949494), (-227.811585371, -10.212185268))
        make_face(mode=Mode.SUBTRACT)
        with Locations((-403.839630577, 21.001549869)):
            Circle(MODEL_R, mode=Mode.SUBTRACT)
        with Locations((-373.687922263, 13.251549869)):
            Circle(MODEL_R, mode=Mode.SUBTRACT)
        with Locations((-373.687922263, 21.251549869)):
            Circle(MODEL_R, mode=Mode.SUBTRACT)
        with Locations((-396.445915559, 39.162490233)):
            Circle(MODEL_R, mode=Mode.SUBTRACT)
        with Locations((-402.508093385, 42.662490233)):
            Circle(MODEL_R, mode=Mode.SUBTRACT)
        with BuildLine():
            ThreePointArc((-325.594522431, 43.223476573), (-324.856684533, 38.624455287), (-325.594522431, 34.025434))
            Line((-325.594522431, 34.025434), (-336.444815564, 34.053135683))
            Line((-336.444815564, 34.053135683), (-370.619106993, 34.053135683))
            Line((-370.619106993, 34.053135683), (-370.619106993, 23.0817416))
            Line((-370.619106993, 23.0817416), (-380.871401066, 34.540754549))
            Line((-380.871401066, 34.540754549), (-396.971212692, 18.93698732))
            Line((-396.971212692, 18.93698732), (-383.824116508, 59.975759861))
            Line((-383.824116508, 59.975759861), (-383.063023773, 59.125084739))
            Line((-383.063023773, 59.125084739), (-383.036780558, 43.223476573))
            Line((-383.036780558, 43.223476573), (-325.594522431, 43.223476573))
        make_face(mode=Mode.SUBTRACT)
        with Locations((-322.48953205, 33.751530494)):
            Circle(MODEL_R, mode=Mode.SUBTRACT)
        with Locations((-322.48953205, 39.601530494)):
            Circle(MODEL_R, mode=Mode.SUBTRACT)
        with BuildLine():
            Line((-325.594522431, 46.179790486), (-380.702976272, 46.117817898))
            Line((-380.702976272, 46.117817898), (-380.811334061, 56.516231765))
            ThreePointArc((-380.811334061, 56.516231765), (-352.478131532, 55.219843079), (-325.594522431, 46.179790486))
        make_face(mode=Mode.SUBTRACT)
        with Locations((-311.687922263, 13.251549869)):
            Rectangle(MODEL_W_3, MODEL_H_3, mode=Mode.SUBTRACT)
        with Locations((-311.687922263, 33.751530494)):
            Circle(MODEL_R, mode=Mode.SUBTRACT)
        with Locations((-300.790542177, 33.751530494)):
            Circle(MODEL_R, mode=Mode.SUBTRACT)
        with Locations((-311.687922263, 39.601530494)):
            Circle(MODEL_R, mode=Mode.SUBTRACT)
        with Locations((-300.790542177, 39.601530494)):
            Circle(MODEL_R, mode=Mode.SUBTRACT)
        with Locations((-249.687922263, 13.251549869)):
            Circle(MODEL_R, mode=Mode.SUBTRACT)
        with Locations((-249.687922263, 21.251549869)):
            Circle(MODEL_R_2, mode=Mode.SUBTRACT)
        with Locations((-220.074429493, 21.001549869)):
            Circle(MODEL_R, mode=Mode.SUBTRACT)
        with BuildLine():
            Line((-297.567305128, 43.199876989), (-240.144576222, 43.103241367))
            Line((-240.144576222, 43.103241367), (-240.088099797, 60.046643019))
            Line((-240.088099797, 60.046643019), (-239.588301513, 60.668146026))
            Line((-239.588301513, 60.668146026), (-226.251035034, 18.793336547))
            Line((-226.251035034, 18.793336547), (-242.324564615, 34.424175709))
            Line((-242.324564615, 34.424175709), (-252.596128298, 22.982432354))
            Line((-252.596128298, 22.982432354), (-252.577664773, 33.953810901))
            Line((-252.577664773, 33.953810901), (-286.751907811, 34.011322086))
            Line((-286.751907811, 34.011322086), (-297.602232198, 34.00188017))
            ThreePointArc((-297.602232198, 34.00188017), (-298.323089741, 38.603682167), (-297.567305128, 43.199876989))
        make_face(mode=Mode.SUBTRACT)
        with Locations((-227.197722974, 39.275050872)):
            Circle(MODEL_R, mode=Mode.SUBTRACT)
        with Locations((-221.135545147, 42.775050872)):
            Circle(MODEL_R, mode=Mode.SUBTRACT)
        with Locations((-311.488157346, 63.138374517)):
            Rectangle(MODEL_W_4, MODEL_H_4, mode=Mode.SUBTRACT)
        with BuildLine():
            Line((-242.564510466, 56.516231765), (-242.672868255, 46.117817898))
            Line((-242.672868255, 46.117817898), (-297.567305128, 46.179790486))
            ThreePointArc((-297.567305128, 46.179790486), (-270.794233717, 55.223615887), (-242.564510466, 56.516231765))
        make_face(mode=Mode.SUBTRACT)
    extrude(amount=SALIENTE_EXTRUIR4_DEPTH)


solid = part.part
